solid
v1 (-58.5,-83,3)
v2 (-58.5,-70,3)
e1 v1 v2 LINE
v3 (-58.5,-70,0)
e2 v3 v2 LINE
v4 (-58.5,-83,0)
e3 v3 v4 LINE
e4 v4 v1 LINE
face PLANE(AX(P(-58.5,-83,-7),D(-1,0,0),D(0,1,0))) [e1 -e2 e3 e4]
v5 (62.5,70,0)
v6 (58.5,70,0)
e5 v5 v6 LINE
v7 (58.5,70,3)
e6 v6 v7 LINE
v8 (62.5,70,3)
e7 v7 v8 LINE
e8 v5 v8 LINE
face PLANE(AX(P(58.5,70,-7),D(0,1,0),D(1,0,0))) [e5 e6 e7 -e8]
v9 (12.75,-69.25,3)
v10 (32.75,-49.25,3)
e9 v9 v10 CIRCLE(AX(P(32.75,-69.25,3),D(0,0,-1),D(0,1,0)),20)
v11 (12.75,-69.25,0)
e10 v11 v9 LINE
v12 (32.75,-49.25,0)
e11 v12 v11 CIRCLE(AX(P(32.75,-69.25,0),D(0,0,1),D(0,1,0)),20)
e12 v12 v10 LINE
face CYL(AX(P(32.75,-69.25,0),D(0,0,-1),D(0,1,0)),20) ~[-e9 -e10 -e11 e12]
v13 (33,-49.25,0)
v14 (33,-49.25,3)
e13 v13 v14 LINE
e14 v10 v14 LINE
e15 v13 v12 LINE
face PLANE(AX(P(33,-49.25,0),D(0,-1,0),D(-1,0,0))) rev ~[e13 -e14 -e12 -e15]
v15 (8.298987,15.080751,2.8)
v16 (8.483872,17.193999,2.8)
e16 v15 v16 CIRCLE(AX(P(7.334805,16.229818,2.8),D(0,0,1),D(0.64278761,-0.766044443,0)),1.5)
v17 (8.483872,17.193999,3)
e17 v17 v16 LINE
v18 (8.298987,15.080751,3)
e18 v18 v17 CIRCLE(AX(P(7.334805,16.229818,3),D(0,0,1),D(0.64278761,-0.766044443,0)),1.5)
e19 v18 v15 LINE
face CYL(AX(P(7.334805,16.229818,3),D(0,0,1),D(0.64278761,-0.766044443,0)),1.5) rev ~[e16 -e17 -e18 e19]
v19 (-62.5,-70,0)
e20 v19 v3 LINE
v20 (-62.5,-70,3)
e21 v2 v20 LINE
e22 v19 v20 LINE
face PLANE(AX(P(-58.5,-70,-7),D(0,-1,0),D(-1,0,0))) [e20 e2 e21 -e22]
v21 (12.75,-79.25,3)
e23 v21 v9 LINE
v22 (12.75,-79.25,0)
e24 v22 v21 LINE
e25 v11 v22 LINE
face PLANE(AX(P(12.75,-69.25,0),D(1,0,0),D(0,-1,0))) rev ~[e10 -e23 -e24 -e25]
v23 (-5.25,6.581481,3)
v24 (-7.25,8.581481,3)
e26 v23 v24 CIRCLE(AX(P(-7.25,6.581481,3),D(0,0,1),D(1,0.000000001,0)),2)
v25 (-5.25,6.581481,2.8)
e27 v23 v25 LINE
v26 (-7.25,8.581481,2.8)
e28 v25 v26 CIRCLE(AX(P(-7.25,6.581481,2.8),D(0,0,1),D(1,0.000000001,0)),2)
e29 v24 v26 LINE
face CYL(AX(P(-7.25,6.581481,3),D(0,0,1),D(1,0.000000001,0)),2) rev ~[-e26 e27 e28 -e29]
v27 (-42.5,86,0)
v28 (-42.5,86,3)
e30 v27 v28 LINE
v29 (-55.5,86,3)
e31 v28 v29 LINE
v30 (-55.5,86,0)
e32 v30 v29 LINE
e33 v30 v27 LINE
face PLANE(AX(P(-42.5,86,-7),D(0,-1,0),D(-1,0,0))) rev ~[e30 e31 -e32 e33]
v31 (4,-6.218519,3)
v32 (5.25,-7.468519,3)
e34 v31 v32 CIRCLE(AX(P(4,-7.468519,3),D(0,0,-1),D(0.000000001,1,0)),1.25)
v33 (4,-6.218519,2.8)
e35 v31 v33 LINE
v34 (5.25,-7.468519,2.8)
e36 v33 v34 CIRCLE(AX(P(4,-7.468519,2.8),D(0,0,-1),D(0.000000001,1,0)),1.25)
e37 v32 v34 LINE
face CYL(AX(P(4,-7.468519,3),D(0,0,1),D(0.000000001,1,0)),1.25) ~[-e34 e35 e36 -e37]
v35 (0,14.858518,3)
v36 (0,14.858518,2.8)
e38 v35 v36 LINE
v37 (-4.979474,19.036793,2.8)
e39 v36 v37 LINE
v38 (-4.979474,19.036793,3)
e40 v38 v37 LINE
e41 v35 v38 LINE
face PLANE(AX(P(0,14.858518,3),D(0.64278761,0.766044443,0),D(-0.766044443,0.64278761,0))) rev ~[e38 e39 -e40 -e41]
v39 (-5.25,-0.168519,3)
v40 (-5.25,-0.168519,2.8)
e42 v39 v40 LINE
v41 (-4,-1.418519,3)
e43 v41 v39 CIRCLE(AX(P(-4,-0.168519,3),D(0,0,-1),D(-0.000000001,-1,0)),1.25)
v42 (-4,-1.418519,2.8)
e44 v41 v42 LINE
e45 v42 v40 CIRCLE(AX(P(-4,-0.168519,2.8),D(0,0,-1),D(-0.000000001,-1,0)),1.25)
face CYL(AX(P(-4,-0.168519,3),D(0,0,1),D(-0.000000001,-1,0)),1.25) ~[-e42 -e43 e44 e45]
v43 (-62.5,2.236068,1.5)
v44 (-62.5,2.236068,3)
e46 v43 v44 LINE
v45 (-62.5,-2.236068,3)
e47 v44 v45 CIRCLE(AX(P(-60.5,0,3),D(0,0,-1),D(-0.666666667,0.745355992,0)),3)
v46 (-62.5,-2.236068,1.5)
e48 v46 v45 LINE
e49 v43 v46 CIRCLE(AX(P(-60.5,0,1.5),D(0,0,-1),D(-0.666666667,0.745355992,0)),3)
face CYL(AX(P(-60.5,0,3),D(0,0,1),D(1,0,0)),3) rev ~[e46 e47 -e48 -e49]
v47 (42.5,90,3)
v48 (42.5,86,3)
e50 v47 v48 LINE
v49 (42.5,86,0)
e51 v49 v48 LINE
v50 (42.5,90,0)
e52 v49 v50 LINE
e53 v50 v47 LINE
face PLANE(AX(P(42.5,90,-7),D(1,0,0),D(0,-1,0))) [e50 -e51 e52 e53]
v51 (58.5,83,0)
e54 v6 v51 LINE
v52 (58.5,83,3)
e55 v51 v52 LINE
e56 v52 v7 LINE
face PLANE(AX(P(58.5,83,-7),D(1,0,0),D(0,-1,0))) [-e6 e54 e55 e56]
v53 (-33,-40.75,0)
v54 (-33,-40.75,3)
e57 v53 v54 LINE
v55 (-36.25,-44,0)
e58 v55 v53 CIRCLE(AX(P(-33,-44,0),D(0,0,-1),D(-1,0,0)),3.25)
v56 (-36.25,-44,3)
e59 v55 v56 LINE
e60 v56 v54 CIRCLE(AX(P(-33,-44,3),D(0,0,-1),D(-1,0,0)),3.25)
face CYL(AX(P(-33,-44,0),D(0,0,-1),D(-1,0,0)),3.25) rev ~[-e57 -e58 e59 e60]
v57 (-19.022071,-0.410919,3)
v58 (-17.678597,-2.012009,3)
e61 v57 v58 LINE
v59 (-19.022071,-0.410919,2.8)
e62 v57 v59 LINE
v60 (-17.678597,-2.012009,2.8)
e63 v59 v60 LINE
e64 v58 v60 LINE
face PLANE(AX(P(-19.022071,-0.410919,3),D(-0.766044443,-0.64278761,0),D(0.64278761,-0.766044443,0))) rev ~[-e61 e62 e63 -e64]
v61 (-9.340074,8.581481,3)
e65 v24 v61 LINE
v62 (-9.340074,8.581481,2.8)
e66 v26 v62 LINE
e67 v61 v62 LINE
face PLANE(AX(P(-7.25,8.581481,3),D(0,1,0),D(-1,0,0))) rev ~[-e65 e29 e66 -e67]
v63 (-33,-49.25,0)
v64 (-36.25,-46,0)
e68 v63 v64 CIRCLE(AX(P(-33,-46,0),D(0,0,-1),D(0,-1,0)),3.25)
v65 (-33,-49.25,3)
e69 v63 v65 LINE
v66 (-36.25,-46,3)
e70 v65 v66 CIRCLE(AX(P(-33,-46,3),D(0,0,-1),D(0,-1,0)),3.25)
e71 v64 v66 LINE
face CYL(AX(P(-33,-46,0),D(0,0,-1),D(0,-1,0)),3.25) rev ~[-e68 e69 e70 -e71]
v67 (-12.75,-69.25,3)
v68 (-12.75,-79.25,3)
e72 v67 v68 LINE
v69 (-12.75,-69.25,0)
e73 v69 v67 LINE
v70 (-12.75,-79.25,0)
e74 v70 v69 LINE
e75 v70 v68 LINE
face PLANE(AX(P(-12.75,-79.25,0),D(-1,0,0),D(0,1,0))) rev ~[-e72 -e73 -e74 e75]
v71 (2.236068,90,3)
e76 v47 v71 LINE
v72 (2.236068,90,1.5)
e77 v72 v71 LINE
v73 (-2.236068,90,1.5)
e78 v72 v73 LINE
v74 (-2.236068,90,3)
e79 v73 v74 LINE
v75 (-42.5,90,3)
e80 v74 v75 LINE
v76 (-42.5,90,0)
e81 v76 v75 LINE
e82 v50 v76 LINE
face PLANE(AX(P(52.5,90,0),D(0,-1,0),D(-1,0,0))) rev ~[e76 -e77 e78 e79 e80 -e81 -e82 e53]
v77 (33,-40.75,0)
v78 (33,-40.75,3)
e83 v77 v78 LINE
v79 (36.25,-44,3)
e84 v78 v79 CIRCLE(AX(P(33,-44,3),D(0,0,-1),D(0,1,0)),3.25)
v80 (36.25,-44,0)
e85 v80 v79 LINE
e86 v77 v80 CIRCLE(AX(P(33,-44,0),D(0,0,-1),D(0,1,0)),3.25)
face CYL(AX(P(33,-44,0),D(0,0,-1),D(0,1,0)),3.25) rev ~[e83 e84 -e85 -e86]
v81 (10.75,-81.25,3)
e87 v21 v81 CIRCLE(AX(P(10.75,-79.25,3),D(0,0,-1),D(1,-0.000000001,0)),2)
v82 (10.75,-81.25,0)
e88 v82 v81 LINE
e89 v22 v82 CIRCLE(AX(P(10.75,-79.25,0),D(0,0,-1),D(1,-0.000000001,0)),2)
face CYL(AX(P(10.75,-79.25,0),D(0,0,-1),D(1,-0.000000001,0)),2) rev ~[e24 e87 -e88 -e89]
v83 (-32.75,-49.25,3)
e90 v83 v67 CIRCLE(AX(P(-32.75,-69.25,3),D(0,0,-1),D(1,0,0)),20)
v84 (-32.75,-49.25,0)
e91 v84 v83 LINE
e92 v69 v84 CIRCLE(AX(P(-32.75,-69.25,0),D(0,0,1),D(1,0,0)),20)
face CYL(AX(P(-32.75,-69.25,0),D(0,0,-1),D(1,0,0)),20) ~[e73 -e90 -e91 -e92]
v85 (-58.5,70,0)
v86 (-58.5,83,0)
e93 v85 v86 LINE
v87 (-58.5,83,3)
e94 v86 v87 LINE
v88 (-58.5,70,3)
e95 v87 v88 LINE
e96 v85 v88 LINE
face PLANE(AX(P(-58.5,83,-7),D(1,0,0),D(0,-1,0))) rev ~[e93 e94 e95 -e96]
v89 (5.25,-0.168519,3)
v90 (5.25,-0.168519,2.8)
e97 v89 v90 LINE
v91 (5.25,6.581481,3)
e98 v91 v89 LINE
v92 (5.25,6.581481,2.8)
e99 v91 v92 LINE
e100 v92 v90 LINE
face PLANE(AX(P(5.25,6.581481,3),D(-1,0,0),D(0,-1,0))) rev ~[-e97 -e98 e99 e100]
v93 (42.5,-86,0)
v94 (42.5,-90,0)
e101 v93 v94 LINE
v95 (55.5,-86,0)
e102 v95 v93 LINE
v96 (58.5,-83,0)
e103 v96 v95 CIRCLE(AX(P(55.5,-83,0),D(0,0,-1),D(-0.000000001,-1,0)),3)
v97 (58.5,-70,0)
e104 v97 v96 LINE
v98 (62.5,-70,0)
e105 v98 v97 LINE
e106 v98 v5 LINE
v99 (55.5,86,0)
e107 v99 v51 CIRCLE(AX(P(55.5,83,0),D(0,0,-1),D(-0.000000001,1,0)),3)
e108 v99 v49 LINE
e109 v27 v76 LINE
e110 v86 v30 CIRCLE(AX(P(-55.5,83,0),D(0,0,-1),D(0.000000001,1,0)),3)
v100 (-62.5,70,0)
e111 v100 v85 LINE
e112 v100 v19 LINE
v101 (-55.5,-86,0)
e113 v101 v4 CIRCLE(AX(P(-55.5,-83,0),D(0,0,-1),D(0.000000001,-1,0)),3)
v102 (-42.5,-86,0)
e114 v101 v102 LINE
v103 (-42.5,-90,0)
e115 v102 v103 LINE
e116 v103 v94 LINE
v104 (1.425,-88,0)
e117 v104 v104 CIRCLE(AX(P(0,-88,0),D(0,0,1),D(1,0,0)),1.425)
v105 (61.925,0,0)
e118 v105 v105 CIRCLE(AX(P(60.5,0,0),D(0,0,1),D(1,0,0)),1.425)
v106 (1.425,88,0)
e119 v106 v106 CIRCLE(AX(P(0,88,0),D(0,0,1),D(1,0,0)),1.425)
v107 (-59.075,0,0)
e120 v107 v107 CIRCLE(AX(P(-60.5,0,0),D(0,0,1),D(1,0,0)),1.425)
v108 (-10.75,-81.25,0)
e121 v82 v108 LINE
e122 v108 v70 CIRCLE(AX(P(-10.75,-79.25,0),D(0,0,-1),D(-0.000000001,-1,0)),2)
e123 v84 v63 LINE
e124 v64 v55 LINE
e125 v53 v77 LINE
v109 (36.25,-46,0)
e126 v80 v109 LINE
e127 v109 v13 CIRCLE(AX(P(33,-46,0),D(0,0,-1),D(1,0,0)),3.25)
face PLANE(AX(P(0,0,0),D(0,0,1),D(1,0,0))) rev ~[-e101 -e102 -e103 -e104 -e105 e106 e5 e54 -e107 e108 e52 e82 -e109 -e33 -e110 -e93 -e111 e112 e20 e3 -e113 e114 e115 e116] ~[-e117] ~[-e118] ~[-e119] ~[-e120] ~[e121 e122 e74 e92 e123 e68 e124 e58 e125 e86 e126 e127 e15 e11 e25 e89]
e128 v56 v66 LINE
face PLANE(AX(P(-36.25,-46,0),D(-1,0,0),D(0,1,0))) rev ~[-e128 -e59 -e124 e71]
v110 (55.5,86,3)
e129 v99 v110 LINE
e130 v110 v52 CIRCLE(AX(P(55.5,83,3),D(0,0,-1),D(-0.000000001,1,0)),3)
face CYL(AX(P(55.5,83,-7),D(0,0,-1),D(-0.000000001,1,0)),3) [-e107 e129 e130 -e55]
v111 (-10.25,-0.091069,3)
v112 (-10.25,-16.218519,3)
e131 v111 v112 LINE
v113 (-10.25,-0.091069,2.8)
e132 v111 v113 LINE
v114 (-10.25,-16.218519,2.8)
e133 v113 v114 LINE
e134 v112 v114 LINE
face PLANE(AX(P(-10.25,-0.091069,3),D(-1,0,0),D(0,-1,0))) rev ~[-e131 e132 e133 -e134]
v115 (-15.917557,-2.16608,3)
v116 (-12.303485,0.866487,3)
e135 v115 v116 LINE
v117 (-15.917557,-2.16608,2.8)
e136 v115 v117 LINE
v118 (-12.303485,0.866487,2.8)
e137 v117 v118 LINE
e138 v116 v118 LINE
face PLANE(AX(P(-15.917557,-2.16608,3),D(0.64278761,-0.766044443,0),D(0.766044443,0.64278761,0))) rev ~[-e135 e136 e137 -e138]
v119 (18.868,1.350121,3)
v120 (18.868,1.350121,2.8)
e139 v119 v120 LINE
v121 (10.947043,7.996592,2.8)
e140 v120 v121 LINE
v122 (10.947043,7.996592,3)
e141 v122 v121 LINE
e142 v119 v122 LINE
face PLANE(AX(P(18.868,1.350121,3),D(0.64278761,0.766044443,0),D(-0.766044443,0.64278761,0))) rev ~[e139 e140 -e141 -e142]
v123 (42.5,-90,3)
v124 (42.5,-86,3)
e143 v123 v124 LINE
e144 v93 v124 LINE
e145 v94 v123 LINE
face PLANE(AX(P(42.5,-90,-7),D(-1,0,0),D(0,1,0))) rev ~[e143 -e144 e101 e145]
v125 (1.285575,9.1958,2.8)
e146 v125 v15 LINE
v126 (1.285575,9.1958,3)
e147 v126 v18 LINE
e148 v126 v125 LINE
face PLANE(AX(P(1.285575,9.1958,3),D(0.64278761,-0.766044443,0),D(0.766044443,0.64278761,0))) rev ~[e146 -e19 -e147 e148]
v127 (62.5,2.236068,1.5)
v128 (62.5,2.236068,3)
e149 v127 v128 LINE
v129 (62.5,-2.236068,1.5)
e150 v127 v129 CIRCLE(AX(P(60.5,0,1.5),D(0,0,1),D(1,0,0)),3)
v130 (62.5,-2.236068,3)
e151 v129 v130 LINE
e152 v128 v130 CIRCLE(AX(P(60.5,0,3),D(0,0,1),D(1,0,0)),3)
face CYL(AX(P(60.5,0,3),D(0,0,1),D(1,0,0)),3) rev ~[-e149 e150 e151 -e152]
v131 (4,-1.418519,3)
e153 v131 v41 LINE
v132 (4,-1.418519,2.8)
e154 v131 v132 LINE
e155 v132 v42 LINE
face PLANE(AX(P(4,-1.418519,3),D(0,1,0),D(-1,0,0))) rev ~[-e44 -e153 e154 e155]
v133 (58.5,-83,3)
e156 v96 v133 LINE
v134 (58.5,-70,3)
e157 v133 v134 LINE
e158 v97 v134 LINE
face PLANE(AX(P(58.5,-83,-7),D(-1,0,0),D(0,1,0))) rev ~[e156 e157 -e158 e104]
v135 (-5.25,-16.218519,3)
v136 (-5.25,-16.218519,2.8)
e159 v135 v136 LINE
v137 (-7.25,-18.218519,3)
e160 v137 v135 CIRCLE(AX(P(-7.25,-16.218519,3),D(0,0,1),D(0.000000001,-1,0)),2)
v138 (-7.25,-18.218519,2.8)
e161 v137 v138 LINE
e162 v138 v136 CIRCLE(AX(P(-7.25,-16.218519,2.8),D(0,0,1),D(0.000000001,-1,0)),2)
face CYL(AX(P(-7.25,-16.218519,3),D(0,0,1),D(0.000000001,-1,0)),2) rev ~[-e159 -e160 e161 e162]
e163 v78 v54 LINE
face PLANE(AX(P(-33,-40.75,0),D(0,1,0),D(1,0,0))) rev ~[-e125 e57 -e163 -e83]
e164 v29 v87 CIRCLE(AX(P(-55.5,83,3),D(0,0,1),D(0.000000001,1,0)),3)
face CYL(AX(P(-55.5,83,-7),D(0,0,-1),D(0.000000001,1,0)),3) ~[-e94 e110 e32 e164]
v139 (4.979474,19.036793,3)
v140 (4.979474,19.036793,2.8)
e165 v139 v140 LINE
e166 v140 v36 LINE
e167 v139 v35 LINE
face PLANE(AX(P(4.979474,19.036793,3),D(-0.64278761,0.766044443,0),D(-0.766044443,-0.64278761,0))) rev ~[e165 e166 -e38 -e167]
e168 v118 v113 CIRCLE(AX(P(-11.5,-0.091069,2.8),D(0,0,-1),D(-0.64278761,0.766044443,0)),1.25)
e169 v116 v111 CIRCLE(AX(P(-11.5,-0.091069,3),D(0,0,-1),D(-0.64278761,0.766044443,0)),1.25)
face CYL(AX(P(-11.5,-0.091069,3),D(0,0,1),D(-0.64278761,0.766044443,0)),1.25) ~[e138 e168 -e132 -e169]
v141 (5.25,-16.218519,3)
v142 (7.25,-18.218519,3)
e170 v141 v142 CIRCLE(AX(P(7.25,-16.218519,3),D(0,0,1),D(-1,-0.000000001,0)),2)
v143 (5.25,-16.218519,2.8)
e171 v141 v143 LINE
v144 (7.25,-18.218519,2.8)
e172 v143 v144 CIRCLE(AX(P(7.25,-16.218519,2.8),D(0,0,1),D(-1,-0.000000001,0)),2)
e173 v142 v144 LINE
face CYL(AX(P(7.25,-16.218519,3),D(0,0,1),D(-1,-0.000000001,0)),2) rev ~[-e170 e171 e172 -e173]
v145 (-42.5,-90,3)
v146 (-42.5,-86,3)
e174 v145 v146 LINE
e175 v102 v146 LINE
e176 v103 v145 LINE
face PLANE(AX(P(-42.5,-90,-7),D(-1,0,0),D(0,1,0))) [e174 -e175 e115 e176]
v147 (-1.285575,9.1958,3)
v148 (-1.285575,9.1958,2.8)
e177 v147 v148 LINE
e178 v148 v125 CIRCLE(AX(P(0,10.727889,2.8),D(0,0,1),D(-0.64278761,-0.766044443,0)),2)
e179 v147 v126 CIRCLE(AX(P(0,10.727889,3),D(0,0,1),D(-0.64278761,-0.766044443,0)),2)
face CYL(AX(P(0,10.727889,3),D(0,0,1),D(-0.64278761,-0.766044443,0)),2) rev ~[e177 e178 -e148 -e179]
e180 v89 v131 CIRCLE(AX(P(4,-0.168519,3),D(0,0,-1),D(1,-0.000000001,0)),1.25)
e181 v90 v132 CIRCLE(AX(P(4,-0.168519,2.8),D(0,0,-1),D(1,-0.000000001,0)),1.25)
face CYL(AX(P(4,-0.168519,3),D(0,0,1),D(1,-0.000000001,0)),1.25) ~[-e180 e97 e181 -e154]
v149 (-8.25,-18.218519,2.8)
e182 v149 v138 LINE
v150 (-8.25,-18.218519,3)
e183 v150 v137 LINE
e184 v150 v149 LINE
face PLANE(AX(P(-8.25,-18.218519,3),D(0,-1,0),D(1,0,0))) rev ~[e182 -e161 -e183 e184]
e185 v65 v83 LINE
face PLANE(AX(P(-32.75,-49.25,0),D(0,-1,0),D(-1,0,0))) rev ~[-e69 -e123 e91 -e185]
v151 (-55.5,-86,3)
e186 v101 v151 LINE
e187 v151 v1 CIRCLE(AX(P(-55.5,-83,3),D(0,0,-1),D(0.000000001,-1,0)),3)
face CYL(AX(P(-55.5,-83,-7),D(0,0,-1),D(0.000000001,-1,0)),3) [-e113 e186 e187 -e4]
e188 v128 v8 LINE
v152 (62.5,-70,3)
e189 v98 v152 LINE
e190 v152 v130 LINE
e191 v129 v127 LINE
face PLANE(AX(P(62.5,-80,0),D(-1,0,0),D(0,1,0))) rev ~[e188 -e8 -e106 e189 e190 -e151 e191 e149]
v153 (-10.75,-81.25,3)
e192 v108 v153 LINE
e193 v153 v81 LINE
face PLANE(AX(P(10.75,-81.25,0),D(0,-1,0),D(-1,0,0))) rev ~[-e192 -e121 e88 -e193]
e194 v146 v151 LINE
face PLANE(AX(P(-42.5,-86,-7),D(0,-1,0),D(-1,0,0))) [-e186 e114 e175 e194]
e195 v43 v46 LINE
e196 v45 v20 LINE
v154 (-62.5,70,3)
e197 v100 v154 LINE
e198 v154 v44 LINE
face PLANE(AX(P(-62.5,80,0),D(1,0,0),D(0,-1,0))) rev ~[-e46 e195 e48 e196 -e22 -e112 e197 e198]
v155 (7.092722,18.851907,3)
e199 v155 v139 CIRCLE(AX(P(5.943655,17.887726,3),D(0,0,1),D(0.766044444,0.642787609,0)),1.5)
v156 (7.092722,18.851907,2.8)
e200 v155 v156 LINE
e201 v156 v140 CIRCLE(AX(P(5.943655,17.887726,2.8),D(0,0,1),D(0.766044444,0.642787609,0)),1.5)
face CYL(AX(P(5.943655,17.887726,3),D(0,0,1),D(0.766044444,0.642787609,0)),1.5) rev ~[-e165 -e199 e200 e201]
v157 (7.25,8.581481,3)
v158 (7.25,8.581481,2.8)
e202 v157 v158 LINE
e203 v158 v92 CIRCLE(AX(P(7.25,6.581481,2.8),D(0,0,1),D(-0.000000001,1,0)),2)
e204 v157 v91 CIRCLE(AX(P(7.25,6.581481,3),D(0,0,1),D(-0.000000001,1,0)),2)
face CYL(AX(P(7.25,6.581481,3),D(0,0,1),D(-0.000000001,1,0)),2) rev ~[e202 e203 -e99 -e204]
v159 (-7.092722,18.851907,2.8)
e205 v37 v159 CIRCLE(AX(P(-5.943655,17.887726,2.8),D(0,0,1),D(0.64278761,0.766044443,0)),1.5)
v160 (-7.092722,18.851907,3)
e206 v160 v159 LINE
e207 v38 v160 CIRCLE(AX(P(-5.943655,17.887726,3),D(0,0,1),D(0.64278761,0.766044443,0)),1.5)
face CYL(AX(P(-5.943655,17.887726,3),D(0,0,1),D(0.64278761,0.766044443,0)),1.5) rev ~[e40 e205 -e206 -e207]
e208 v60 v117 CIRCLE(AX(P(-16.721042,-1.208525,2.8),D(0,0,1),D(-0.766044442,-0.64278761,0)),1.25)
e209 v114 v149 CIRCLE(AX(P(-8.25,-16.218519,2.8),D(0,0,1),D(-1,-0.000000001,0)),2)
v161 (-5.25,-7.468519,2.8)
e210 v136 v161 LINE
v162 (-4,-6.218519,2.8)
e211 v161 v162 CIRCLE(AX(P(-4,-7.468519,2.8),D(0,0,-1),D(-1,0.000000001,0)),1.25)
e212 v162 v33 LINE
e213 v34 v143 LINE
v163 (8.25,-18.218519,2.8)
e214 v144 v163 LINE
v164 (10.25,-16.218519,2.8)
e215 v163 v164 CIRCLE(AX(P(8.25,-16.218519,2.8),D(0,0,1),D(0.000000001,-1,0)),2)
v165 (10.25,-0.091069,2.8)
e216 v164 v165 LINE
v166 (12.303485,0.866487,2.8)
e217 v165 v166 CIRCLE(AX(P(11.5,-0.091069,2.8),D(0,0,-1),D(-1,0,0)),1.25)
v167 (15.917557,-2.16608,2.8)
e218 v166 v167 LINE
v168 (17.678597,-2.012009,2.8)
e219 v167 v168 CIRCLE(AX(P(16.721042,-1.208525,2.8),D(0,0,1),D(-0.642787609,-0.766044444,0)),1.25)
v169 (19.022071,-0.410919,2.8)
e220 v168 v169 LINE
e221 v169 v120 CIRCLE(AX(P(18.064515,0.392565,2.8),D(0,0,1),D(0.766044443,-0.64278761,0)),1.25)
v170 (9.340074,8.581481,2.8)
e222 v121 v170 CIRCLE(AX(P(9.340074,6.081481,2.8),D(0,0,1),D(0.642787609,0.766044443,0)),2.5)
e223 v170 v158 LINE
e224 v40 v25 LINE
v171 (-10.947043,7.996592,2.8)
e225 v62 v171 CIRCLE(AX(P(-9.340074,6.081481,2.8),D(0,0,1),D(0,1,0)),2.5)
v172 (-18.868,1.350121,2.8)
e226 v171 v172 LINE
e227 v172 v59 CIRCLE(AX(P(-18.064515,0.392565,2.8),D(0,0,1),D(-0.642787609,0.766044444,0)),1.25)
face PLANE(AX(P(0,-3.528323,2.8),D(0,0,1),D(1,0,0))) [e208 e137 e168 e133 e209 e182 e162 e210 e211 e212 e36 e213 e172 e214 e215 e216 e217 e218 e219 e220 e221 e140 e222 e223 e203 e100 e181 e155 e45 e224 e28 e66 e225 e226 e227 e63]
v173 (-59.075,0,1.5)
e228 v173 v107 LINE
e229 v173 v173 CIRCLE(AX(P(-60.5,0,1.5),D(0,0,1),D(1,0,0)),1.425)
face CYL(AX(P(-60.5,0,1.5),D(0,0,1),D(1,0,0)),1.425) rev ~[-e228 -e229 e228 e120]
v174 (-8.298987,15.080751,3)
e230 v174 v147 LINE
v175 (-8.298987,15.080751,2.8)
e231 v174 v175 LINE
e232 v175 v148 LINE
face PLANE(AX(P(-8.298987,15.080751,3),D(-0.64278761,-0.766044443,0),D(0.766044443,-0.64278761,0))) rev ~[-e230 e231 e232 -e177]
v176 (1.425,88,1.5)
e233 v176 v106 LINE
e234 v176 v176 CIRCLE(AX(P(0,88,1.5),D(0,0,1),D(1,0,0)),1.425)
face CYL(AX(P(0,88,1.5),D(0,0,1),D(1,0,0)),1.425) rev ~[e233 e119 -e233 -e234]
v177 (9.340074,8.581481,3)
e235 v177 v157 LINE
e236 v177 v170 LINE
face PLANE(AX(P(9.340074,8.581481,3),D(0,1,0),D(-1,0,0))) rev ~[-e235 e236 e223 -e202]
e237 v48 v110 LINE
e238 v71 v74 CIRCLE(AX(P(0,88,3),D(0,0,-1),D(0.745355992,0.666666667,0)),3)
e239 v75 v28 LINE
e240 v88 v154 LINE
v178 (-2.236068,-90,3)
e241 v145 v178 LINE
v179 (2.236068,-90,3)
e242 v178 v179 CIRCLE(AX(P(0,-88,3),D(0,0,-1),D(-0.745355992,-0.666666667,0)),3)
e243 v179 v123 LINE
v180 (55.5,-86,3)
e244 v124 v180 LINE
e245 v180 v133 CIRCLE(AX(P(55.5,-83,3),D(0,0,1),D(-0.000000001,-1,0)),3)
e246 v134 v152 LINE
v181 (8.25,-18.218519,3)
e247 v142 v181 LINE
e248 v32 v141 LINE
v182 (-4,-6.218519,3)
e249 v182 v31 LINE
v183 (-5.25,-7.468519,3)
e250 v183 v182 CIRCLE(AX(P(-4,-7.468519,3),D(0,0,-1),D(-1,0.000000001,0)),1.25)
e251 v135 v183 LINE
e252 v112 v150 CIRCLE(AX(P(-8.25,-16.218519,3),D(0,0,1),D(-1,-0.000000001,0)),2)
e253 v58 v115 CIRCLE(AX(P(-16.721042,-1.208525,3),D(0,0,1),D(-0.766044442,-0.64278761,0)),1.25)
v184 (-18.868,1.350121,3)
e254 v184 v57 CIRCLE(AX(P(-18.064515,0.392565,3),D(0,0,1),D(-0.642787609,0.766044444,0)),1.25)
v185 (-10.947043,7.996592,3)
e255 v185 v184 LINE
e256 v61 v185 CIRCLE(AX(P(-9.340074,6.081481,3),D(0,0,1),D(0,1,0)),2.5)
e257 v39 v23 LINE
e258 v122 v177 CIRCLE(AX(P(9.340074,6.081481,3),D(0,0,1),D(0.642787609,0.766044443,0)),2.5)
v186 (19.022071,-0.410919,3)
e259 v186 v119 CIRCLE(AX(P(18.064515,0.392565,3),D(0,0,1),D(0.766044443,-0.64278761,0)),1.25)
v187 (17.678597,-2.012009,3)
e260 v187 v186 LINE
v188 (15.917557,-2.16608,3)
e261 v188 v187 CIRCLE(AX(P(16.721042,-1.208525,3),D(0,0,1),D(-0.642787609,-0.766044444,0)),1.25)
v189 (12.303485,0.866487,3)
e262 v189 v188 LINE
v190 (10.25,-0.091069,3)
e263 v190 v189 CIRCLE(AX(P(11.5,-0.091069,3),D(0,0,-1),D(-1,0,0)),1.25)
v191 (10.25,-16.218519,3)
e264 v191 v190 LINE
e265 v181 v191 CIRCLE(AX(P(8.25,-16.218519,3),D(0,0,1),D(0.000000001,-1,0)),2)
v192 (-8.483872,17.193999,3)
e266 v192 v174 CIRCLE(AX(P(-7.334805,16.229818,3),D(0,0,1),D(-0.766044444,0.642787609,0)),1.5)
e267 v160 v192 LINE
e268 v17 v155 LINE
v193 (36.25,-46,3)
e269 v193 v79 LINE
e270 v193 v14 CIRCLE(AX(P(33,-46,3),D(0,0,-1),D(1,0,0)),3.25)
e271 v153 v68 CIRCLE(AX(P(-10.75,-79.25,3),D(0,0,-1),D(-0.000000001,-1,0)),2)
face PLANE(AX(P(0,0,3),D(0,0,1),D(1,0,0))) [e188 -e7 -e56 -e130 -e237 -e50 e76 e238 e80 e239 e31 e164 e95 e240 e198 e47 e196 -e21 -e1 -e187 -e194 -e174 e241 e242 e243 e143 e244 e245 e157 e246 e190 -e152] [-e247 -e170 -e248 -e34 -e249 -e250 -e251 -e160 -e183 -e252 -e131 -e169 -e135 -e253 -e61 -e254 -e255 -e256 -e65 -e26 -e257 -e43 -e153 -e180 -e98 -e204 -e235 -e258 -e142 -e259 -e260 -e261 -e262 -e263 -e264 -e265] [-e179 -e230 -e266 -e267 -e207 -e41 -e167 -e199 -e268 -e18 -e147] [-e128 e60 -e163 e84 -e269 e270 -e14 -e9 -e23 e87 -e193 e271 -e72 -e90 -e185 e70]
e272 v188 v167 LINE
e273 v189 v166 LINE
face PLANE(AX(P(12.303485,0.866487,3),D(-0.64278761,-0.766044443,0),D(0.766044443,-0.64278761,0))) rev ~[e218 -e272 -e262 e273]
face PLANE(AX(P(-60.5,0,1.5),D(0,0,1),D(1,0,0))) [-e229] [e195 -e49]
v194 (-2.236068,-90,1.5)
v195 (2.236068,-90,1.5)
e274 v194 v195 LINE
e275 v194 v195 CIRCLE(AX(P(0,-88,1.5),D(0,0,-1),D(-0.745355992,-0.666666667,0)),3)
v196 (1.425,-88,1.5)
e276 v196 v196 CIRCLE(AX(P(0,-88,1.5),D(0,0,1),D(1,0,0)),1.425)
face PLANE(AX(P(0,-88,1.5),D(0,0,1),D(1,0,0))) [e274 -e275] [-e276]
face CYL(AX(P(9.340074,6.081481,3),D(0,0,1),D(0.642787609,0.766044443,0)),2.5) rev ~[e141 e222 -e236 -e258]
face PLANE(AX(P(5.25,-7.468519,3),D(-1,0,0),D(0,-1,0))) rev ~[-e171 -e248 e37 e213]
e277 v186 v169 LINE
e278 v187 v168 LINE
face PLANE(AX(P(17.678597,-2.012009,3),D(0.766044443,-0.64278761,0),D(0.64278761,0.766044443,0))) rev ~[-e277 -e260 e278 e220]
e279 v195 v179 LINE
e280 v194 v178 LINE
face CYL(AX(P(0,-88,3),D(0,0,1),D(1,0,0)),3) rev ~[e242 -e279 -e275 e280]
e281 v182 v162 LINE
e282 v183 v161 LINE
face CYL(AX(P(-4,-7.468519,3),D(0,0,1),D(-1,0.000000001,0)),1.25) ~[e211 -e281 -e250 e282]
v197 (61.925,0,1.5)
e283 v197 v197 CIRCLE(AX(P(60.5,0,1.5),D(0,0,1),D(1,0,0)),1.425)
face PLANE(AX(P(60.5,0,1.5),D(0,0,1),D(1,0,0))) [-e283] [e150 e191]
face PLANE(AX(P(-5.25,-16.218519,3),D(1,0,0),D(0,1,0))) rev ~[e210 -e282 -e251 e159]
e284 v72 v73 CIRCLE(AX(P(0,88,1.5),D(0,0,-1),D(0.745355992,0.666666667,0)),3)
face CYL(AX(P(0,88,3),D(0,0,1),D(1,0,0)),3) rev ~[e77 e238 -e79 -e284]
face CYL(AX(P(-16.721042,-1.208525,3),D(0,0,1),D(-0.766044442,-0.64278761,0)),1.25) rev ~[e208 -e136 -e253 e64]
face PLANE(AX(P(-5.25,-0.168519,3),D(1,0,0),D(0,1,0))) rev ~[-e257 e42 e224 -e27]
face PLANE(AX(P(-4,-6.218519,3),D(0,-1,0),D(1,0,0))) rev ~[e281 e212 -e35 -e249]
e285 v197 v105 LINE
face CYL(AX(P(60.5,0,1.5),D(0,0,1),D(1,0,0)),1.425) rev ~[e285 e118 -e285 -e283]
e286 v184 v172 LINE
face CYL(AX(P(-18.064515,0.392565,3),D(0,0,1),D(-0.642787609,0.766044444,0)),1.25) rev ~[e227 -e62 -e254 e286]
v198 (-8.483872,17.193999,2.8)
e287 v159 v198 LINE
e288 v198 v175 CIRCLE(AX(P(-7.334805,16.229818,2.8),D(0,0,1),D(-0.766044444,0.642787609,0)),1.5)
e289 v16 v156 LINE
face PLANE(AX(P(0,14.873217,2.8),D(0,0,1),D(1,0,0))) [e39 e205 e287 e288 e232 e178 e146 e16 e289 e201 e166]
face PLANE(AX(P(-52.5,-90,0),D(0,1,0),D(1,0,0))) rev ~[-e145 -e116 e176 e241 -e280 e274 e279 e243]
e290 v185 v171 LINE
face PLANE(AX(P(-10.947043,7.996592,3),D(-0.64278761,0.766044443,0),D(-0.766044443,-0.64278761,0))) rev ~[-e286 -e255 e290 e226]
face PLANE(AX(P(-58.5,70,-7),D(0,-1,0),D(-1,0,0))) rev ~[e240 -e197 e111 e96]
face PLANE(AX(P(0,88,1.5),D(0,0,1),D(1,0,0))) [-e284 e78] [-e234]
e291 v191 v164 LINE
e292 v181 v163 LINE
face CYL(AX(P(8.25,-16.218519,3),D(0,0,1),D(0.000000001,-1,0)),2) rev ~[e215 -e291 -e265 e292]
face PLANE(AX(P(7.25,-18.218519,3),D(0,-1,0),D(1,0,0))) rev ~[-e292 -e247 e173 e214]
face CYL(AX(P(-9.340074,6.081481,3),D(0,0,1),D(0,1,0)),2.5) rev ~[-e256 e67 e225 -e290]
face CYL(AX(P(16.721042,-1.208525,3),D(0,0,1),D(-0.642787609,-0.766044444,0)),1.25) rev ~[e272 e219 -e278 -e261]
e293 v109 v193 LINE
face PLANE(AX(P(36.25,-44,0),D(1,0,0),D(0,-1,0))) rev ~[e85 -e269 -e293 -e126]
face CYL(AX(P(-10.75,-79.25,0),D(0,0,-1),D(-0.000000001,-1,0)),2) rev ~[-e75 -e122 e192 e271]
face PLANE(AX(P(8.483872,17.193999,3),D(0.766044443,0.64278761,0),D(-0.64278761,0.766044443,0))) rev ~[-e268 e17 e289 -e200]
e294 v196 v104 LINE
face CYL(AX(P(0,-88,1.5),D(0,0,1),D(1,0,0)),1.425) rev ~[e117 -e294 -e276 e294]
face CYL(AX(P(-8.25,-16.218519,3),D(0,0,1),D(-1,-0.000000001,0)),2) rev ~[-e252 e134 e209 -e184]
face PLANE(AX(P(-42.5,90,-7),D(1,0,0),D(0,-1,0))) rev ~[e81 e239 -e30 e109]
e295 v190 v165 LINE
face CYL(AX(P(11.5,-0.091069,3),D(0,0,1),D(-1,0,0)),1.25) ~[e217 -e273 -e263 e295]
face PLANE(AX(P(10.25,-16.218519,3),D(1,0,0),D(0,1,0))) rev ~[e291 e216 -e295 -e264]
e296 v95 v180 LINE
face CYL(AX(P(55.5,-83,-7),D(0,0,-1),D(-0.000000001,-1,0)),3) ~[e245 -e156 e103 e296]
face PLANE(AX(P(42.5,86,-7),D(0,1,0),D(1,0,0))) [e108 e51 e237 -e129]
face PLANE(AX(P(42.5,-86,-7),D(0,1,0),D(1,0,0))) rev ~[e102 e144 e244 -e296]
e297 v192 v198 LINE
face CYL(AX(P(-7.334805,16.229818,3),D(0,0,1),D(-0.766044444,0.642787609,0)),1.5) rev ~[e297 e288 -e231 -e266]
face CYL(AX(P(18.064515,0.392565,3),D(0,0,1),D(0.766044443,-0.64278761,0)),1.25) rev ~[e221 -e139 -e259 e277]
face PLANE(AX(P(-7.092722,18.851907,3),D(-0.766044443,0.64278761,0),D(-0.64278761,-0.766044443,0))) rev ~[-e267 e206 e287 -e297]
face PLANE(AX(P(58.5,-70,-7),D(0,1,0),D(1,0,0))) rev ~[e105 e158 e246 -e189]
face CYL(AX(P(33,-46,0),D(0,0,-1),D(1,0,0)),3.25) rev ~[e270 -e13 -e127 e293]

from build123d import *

# Parameters (mm, degrees)
EXTRUDE_1_DEPTH     = 3
CUT_EXTRUDE_1_DEPTH = 10
SKETCH_3_R          = 3
CUT_EXTRUDE_2_DEPTH = 1.5
SKETCH_4_R          = 1.425
CUT_EXTRUDE_3_DEPTH = 2
CUT_EXTRUDE_4_DEPTH = 0.2
CUT_EXTRUDE_START   = -10
CUT_EXTRUDE_5_DEPTH = 10


with BuildPart() as part:
    # Эскиз1 → Бобышка-Вытянуть1 (new body)
    with BuildSketch(Plane.XY):
        with BuildLine():
            Line((-52.5, -90), (52.5, -90))
            ThreePointArc((52.5, -90), (59.571067812, -87.071067812), (62.5, -80))
            Line((62.5, -80), (62.5, 80))
            ThreePointArc((62.5, 80), (59.571067812, 87.071067812), (52.5, 90))
            Line((52.5, 90), (-52.5, 90))
            ThreePointArc((-52.5, 90), (-59.571067812, 87.071067812), (-62.5, 80))
            Line((-62.5, 80), (-62.5, -80))
            ThreePointArc((-62.5, -80), (-59.571067812, -87.071067812), (-52.5, -90))
        make_face()
    extrude(amount=EXTRUDE_1_DEPTH)

    # Эскиз2 → Вырез-Вытянуть1 (cut)
    with BuildSketch(Plane(origin=(0, 0, 0), x_dir=(-1, 0, 0), z_dir=(0, 0, -1))):
        with BuildLine():
            Line((-36.25, -44), (-36.25, -46))
            ThreePointArc((-36.25, -46), (-35.298097039, -48.298097039), (-33, -49.25))
            Line((-33, -49.25), (-32.75, -49.25))
            ThreePointArc((-32.75, -49.25), (-18.607864376, -55.107864376), (-12.75, -69.25))
            Line((-12.75, -69.25), (-12.75, -79.25))
            ThreePointArc((-12.75, -79.25), (-12.164213562, -80.664213562), (-10.75, -81.25))
            Line((-10.75, -81.25), (10.75, -81.25))
            ThreePointArc((10.75, -81.25), (12.164213562, -80.664213562), (12.75, -79.25))
            Line((12.75, -79.25), (12.75, -69.25))
            ThreePointArc((12.75, -69.25), (18.607864376, -55.107864376), (32.75, -49.25))
            Line((32.75, -49.25), (33, -49.25))
            ThreePointArc((33, -49.25), (35.298097039, -48.298097039), (36.25, -46))
            Line((36.25, -46), (36.25, -44))
            ThreePointArc((36.25, -44), (35.298097039, -41.701902961), (33, -40.75))
            Line((33, -40.75), (-33, -40.75))
            ThreePointArc((-33, -40.75), (-35.298097039, -41.701902961), (-36.25, -44))
        make_face()
    extrude(amount=-CUT_EXTRUDE_1_DEPTH, mode=Mode.SUBTRACT)

    # Эскиз3 → Вырез-Вытянуть2 (cut)
    with BuildSketch(Plane.XY.offset(3)):
        with Locations((0, 88)):
            Circle(SKETCH_3_R)
        with Locations((60.5, 0)):
            Circle(SKETCH_3_R)
        with Locations((0, -88)):
            Circle(SKETCH_3_R)
        with Locations((-60.5, 0)):
            Circle(SKETCH_3_R)
    extrude(amount=-CUT_EXTRUDE_2_DEPTH, mode=Mode.SUBTRACT)

    # Эскиз4 → Вырез-Вытянуть3 (cut)
    with BuildSketch(Plane.XY.offset(1.5)):
        with Locations((0, 88)):
            Circle(SKETCH_4_R)
        with Locations((60.5, 0)):
            Circle(SKETCH_4_R)
        with Locations((0, -88)):
            Circle(SKETCH_4_R)
        with Locations((-60.5, 0)):
            Circle(SKETCH_4_R)
    extrude(amount=-CUT_EXTRUDE_3_DEPTH, mode=Mode.SUBTRACT)

    # Эскиз5 → Вырез-Вытянуть4 (cut)
    with BuildSketch(Plane.XY.offset(3)):
        with BuildLine():
            Line((-10.25, -0.09106889), (-10.25, -16.21851864))
            ThreePointArc((-10.25, -16.21851864), (-9.664213562, -17.632732202), (-8.25, -18.21851864))
            Line((-8.25, -18.21851864), (-7.25, -18.21851864))
            ThreePointArc((-7.25, -18.21851864), (-5.835786438, -17.632732202), (-5.25, -16.21851864))
            Line((-5.25, -16.21851864), (-5.25, -7.46851864))
            ThreePointArc((-5.25, -7.46851864), (-4.883883476, -6.584635164), (-4, -6.21851864))
            Line((-4, -6.21851864), (4, -6.21851864))
            ThreePointArc((4, -6.21851864), (4.883883476, -6.584635164), (5.25, -7.46851864))
            Line((5.25, -7.46851864), (5.25, -16.21851864))
            ThreePointArc((5.25, -16.21851864), (5.835786438, -17.632732202), (7.25, -18.21851864))
            Line((7.25, -18.21851864), (8.25, -18.21851864))
            ThreePointArc((8.25, -18.21851864), (9.664213562, -17.632732202), (10.25, -16.21851864))
            Line((10.25, -16.21851864), (10.25, -0.09106889))
            ThreePointArc((10.25, -0.09106889), (10.971727173, 1.041815844), (12.303484512, 0.866486664))
            Line((12.303484512, 0.866486664), (15.917557024, -2.166080248))
            ThreePointArc((15.917557024, -2.166080248), (16.829986215, -2.453768066), (17.67859709, -2.012009206))
            Line((17.67859709, -2.012009206), (19.022071027, -0.410919315))
            ThreePointArc((19.022071027, -0.410919315), (19.309758846, 0.501509876), (18.867999985, 1.350120751))
            Line((18.867999985, 1.350120751), (10.947043439, 7.996592468))
            ThreePointArc((10.947043439, 7.996592468), (10.195124773, 8.430712912), (9.340074414, 8.58148136))
            Line((9.340074414, 8.58148136), (7.25, 8.58148136))
            ThreePointArc((7.25, 8.58148136), (5.835786438, 7.995694922), (5.25, 6.58148136))
            Line((5.25, 6.58148136), (5.25, -0.16851864))
            ThreePointArc((5.25, -0.16851864), (4.883883476, -1.052402116), (4, -1.41851864))
            Line((4, -1.41851864), (-4, -1.41851864))
            ThreePointArc((-4, -1.41851864), (-4.883883476, -1.052402116), (-5.25, -0.16851864))
            Line((-5.25, -0.16851864), (-5.25, 6.58148136))
            ThreePointArc((-5.25, 6.58148136), (-5.835786438, 7.995694922), (-7.25, 8.58148136))
            Line((-7.25, 8.58148136), (-9.340074414, 8.58148136))
            ThreePointArc((-9.340074414, 8.58148136), (-10.195124773, 8.430712912), (-10.947043439, 7.996592468))
            Line((-10.947043439, 7.996592468), (-18.867999985, 1.350120751))
            ThreePointArc((-18.867999985, 1.350120751), (-19.309758846, 0.501509876), (-19.022071027, -0.410919315))
            Line((-19.022071027, -0.410919315), (-17.67859709, -2.012009206))
            ThreePointArc((-17.67859709, -2.012009206), (-16.829986215, -2.453768066), (-15.917557024, -2.166080248))
            Line((-15.917557024, -2.166080248), (-12.303484512, 0.866486664))
            ThreePointArc((-12.303484512, 0.866486664), (-10.971727173, 1.041815844), (-10.25, -0.09106889))
        make_face()
        with BuildLine():
            Line((0, 14.858517807), (-4.979473915, 19.036792532))
            ThreePointArc((-4.979473915, 19.036792532), (-6.074388944, 19.382017915), (-7.092721994, 18.851907282))
            Line((-7.092721994, 18.851907282), (-8.483871936, 17.193999341))
            ThreePointArc((-8.483871936, 17.193999341), (-8.829097318, 16.099084312), (-8.298986686, 15.080751262))
            Line((-8.298986686, 15.080751262), (-1.285575219, 9.195800287))
            ThreePointArc((-1.285575219, 9.195800287), (0, 8.727889173), (1.285575219, 9.195800287))
            Line((1.285575219, 9.195800287), (8.298986686, 15.080751262))
            ThreePointArc((8.298986686, 15.080751262), (8.829097318, 16.099084312), (8.483871936, 17.193999341))
            Line((8.483871936, 17.193999341), (7.092721994, 18.851907282))
            ThreePointArc((7.092721994, 18.851907282), (6.074388944, 19.382017915), (4.979473915, 19.036792532))
            Line((4.979473915, 19.036792532), (0, 14.858517807))
        make_face()
    extrude(amount=-CUT_EXTRUDE_4_DEPTH, mode=Mode.SUBTRACT)

    # Эскиз8 → Вырез-Вытянуть5 (cut)
    with BuildSketch(Plane.XY.offset(3).offset(CUT_EXTRUDE_START)):
        with BuildLine():
            Line((-52.5, 90), (-42.5, 90))
            Line((-42.5, 90), (-42.5, 86))
            Line((-42.5, 86), (-55.5, 86))
            ThreePointArc((-55.5, 86), (-57.621320344, 85.121320344), (-58.5, 83))
            Line((-58.5, 83), (-58.5, 70))
            Line((-58.5, 70), (-62.5, 70))
            Line((-62.5, 70), (-62.5, 80))
            ThreePointArc((-62.5, 80), (-59.571067812, 87.071067812), (-52.5, 90))
        make_face()
        with BuildLine():
            Line((62.5, 70), (62.5, 80))
            ThreePointArc((62.5, 80), (59.571067812, 87.071067812), (52.5, 90))
            Line((52.5, 90), (42.5, 90))
            Line((42.5, 90), (42.5, 86))
            Line((42.5, 86), (55.5, 86))
            ThreePointArc((55.5, 86), (57.621320344, 85.121320344), (58.5, 83))
            Line((58.5, 83), (58.5, 70))
            Line((58.5, 70), (62.5, 70))
        make_face()
        with BuildLine():
            Line((52.5, -90), (42.5, -90))
            Line((42.5, -90), (42.5, -86))
            Line((42.5, -86), (55.5, -86))
            ThreePointArc((55.5, -86), (57.621320344, -85.121320344), (58.5, -83))
            Line((58.5, -83), (58.5, -70))
            Line((58.5, -70), (62.5, -70))
            Line((62.5, -70), (62.5, -80))
            ThreePointArc((62.5, -80), (59.571067812, -87.071067812), (52.5, -90))
        make_face()
        with BuildLine():
            Line((-62.5, -70), (-62.5, -80))
            ThreePointArc((-62.5, -80), (-59.571067812, -87.071067812), (-52.5, -90))
            Line((-52.5, -90), (-42.5, -90))
            Line((-42.5, -90), (-42.5, -86))
            Line((-42.5, -86), (-55.5, -86))
            ThreePointArc((-55.5, -86), (-57.621320344, -85.121320344), (-58.5, -83))
            Line((-58.5, -83), (-58.5, -70))
            Line((-58.5, -70), (-62.5, -70))
        make_face()
    extrude(amount=CUT_EXTRUDE_5_DEPTH, mode=Mode.SUBTRACT)


solid = part.part
